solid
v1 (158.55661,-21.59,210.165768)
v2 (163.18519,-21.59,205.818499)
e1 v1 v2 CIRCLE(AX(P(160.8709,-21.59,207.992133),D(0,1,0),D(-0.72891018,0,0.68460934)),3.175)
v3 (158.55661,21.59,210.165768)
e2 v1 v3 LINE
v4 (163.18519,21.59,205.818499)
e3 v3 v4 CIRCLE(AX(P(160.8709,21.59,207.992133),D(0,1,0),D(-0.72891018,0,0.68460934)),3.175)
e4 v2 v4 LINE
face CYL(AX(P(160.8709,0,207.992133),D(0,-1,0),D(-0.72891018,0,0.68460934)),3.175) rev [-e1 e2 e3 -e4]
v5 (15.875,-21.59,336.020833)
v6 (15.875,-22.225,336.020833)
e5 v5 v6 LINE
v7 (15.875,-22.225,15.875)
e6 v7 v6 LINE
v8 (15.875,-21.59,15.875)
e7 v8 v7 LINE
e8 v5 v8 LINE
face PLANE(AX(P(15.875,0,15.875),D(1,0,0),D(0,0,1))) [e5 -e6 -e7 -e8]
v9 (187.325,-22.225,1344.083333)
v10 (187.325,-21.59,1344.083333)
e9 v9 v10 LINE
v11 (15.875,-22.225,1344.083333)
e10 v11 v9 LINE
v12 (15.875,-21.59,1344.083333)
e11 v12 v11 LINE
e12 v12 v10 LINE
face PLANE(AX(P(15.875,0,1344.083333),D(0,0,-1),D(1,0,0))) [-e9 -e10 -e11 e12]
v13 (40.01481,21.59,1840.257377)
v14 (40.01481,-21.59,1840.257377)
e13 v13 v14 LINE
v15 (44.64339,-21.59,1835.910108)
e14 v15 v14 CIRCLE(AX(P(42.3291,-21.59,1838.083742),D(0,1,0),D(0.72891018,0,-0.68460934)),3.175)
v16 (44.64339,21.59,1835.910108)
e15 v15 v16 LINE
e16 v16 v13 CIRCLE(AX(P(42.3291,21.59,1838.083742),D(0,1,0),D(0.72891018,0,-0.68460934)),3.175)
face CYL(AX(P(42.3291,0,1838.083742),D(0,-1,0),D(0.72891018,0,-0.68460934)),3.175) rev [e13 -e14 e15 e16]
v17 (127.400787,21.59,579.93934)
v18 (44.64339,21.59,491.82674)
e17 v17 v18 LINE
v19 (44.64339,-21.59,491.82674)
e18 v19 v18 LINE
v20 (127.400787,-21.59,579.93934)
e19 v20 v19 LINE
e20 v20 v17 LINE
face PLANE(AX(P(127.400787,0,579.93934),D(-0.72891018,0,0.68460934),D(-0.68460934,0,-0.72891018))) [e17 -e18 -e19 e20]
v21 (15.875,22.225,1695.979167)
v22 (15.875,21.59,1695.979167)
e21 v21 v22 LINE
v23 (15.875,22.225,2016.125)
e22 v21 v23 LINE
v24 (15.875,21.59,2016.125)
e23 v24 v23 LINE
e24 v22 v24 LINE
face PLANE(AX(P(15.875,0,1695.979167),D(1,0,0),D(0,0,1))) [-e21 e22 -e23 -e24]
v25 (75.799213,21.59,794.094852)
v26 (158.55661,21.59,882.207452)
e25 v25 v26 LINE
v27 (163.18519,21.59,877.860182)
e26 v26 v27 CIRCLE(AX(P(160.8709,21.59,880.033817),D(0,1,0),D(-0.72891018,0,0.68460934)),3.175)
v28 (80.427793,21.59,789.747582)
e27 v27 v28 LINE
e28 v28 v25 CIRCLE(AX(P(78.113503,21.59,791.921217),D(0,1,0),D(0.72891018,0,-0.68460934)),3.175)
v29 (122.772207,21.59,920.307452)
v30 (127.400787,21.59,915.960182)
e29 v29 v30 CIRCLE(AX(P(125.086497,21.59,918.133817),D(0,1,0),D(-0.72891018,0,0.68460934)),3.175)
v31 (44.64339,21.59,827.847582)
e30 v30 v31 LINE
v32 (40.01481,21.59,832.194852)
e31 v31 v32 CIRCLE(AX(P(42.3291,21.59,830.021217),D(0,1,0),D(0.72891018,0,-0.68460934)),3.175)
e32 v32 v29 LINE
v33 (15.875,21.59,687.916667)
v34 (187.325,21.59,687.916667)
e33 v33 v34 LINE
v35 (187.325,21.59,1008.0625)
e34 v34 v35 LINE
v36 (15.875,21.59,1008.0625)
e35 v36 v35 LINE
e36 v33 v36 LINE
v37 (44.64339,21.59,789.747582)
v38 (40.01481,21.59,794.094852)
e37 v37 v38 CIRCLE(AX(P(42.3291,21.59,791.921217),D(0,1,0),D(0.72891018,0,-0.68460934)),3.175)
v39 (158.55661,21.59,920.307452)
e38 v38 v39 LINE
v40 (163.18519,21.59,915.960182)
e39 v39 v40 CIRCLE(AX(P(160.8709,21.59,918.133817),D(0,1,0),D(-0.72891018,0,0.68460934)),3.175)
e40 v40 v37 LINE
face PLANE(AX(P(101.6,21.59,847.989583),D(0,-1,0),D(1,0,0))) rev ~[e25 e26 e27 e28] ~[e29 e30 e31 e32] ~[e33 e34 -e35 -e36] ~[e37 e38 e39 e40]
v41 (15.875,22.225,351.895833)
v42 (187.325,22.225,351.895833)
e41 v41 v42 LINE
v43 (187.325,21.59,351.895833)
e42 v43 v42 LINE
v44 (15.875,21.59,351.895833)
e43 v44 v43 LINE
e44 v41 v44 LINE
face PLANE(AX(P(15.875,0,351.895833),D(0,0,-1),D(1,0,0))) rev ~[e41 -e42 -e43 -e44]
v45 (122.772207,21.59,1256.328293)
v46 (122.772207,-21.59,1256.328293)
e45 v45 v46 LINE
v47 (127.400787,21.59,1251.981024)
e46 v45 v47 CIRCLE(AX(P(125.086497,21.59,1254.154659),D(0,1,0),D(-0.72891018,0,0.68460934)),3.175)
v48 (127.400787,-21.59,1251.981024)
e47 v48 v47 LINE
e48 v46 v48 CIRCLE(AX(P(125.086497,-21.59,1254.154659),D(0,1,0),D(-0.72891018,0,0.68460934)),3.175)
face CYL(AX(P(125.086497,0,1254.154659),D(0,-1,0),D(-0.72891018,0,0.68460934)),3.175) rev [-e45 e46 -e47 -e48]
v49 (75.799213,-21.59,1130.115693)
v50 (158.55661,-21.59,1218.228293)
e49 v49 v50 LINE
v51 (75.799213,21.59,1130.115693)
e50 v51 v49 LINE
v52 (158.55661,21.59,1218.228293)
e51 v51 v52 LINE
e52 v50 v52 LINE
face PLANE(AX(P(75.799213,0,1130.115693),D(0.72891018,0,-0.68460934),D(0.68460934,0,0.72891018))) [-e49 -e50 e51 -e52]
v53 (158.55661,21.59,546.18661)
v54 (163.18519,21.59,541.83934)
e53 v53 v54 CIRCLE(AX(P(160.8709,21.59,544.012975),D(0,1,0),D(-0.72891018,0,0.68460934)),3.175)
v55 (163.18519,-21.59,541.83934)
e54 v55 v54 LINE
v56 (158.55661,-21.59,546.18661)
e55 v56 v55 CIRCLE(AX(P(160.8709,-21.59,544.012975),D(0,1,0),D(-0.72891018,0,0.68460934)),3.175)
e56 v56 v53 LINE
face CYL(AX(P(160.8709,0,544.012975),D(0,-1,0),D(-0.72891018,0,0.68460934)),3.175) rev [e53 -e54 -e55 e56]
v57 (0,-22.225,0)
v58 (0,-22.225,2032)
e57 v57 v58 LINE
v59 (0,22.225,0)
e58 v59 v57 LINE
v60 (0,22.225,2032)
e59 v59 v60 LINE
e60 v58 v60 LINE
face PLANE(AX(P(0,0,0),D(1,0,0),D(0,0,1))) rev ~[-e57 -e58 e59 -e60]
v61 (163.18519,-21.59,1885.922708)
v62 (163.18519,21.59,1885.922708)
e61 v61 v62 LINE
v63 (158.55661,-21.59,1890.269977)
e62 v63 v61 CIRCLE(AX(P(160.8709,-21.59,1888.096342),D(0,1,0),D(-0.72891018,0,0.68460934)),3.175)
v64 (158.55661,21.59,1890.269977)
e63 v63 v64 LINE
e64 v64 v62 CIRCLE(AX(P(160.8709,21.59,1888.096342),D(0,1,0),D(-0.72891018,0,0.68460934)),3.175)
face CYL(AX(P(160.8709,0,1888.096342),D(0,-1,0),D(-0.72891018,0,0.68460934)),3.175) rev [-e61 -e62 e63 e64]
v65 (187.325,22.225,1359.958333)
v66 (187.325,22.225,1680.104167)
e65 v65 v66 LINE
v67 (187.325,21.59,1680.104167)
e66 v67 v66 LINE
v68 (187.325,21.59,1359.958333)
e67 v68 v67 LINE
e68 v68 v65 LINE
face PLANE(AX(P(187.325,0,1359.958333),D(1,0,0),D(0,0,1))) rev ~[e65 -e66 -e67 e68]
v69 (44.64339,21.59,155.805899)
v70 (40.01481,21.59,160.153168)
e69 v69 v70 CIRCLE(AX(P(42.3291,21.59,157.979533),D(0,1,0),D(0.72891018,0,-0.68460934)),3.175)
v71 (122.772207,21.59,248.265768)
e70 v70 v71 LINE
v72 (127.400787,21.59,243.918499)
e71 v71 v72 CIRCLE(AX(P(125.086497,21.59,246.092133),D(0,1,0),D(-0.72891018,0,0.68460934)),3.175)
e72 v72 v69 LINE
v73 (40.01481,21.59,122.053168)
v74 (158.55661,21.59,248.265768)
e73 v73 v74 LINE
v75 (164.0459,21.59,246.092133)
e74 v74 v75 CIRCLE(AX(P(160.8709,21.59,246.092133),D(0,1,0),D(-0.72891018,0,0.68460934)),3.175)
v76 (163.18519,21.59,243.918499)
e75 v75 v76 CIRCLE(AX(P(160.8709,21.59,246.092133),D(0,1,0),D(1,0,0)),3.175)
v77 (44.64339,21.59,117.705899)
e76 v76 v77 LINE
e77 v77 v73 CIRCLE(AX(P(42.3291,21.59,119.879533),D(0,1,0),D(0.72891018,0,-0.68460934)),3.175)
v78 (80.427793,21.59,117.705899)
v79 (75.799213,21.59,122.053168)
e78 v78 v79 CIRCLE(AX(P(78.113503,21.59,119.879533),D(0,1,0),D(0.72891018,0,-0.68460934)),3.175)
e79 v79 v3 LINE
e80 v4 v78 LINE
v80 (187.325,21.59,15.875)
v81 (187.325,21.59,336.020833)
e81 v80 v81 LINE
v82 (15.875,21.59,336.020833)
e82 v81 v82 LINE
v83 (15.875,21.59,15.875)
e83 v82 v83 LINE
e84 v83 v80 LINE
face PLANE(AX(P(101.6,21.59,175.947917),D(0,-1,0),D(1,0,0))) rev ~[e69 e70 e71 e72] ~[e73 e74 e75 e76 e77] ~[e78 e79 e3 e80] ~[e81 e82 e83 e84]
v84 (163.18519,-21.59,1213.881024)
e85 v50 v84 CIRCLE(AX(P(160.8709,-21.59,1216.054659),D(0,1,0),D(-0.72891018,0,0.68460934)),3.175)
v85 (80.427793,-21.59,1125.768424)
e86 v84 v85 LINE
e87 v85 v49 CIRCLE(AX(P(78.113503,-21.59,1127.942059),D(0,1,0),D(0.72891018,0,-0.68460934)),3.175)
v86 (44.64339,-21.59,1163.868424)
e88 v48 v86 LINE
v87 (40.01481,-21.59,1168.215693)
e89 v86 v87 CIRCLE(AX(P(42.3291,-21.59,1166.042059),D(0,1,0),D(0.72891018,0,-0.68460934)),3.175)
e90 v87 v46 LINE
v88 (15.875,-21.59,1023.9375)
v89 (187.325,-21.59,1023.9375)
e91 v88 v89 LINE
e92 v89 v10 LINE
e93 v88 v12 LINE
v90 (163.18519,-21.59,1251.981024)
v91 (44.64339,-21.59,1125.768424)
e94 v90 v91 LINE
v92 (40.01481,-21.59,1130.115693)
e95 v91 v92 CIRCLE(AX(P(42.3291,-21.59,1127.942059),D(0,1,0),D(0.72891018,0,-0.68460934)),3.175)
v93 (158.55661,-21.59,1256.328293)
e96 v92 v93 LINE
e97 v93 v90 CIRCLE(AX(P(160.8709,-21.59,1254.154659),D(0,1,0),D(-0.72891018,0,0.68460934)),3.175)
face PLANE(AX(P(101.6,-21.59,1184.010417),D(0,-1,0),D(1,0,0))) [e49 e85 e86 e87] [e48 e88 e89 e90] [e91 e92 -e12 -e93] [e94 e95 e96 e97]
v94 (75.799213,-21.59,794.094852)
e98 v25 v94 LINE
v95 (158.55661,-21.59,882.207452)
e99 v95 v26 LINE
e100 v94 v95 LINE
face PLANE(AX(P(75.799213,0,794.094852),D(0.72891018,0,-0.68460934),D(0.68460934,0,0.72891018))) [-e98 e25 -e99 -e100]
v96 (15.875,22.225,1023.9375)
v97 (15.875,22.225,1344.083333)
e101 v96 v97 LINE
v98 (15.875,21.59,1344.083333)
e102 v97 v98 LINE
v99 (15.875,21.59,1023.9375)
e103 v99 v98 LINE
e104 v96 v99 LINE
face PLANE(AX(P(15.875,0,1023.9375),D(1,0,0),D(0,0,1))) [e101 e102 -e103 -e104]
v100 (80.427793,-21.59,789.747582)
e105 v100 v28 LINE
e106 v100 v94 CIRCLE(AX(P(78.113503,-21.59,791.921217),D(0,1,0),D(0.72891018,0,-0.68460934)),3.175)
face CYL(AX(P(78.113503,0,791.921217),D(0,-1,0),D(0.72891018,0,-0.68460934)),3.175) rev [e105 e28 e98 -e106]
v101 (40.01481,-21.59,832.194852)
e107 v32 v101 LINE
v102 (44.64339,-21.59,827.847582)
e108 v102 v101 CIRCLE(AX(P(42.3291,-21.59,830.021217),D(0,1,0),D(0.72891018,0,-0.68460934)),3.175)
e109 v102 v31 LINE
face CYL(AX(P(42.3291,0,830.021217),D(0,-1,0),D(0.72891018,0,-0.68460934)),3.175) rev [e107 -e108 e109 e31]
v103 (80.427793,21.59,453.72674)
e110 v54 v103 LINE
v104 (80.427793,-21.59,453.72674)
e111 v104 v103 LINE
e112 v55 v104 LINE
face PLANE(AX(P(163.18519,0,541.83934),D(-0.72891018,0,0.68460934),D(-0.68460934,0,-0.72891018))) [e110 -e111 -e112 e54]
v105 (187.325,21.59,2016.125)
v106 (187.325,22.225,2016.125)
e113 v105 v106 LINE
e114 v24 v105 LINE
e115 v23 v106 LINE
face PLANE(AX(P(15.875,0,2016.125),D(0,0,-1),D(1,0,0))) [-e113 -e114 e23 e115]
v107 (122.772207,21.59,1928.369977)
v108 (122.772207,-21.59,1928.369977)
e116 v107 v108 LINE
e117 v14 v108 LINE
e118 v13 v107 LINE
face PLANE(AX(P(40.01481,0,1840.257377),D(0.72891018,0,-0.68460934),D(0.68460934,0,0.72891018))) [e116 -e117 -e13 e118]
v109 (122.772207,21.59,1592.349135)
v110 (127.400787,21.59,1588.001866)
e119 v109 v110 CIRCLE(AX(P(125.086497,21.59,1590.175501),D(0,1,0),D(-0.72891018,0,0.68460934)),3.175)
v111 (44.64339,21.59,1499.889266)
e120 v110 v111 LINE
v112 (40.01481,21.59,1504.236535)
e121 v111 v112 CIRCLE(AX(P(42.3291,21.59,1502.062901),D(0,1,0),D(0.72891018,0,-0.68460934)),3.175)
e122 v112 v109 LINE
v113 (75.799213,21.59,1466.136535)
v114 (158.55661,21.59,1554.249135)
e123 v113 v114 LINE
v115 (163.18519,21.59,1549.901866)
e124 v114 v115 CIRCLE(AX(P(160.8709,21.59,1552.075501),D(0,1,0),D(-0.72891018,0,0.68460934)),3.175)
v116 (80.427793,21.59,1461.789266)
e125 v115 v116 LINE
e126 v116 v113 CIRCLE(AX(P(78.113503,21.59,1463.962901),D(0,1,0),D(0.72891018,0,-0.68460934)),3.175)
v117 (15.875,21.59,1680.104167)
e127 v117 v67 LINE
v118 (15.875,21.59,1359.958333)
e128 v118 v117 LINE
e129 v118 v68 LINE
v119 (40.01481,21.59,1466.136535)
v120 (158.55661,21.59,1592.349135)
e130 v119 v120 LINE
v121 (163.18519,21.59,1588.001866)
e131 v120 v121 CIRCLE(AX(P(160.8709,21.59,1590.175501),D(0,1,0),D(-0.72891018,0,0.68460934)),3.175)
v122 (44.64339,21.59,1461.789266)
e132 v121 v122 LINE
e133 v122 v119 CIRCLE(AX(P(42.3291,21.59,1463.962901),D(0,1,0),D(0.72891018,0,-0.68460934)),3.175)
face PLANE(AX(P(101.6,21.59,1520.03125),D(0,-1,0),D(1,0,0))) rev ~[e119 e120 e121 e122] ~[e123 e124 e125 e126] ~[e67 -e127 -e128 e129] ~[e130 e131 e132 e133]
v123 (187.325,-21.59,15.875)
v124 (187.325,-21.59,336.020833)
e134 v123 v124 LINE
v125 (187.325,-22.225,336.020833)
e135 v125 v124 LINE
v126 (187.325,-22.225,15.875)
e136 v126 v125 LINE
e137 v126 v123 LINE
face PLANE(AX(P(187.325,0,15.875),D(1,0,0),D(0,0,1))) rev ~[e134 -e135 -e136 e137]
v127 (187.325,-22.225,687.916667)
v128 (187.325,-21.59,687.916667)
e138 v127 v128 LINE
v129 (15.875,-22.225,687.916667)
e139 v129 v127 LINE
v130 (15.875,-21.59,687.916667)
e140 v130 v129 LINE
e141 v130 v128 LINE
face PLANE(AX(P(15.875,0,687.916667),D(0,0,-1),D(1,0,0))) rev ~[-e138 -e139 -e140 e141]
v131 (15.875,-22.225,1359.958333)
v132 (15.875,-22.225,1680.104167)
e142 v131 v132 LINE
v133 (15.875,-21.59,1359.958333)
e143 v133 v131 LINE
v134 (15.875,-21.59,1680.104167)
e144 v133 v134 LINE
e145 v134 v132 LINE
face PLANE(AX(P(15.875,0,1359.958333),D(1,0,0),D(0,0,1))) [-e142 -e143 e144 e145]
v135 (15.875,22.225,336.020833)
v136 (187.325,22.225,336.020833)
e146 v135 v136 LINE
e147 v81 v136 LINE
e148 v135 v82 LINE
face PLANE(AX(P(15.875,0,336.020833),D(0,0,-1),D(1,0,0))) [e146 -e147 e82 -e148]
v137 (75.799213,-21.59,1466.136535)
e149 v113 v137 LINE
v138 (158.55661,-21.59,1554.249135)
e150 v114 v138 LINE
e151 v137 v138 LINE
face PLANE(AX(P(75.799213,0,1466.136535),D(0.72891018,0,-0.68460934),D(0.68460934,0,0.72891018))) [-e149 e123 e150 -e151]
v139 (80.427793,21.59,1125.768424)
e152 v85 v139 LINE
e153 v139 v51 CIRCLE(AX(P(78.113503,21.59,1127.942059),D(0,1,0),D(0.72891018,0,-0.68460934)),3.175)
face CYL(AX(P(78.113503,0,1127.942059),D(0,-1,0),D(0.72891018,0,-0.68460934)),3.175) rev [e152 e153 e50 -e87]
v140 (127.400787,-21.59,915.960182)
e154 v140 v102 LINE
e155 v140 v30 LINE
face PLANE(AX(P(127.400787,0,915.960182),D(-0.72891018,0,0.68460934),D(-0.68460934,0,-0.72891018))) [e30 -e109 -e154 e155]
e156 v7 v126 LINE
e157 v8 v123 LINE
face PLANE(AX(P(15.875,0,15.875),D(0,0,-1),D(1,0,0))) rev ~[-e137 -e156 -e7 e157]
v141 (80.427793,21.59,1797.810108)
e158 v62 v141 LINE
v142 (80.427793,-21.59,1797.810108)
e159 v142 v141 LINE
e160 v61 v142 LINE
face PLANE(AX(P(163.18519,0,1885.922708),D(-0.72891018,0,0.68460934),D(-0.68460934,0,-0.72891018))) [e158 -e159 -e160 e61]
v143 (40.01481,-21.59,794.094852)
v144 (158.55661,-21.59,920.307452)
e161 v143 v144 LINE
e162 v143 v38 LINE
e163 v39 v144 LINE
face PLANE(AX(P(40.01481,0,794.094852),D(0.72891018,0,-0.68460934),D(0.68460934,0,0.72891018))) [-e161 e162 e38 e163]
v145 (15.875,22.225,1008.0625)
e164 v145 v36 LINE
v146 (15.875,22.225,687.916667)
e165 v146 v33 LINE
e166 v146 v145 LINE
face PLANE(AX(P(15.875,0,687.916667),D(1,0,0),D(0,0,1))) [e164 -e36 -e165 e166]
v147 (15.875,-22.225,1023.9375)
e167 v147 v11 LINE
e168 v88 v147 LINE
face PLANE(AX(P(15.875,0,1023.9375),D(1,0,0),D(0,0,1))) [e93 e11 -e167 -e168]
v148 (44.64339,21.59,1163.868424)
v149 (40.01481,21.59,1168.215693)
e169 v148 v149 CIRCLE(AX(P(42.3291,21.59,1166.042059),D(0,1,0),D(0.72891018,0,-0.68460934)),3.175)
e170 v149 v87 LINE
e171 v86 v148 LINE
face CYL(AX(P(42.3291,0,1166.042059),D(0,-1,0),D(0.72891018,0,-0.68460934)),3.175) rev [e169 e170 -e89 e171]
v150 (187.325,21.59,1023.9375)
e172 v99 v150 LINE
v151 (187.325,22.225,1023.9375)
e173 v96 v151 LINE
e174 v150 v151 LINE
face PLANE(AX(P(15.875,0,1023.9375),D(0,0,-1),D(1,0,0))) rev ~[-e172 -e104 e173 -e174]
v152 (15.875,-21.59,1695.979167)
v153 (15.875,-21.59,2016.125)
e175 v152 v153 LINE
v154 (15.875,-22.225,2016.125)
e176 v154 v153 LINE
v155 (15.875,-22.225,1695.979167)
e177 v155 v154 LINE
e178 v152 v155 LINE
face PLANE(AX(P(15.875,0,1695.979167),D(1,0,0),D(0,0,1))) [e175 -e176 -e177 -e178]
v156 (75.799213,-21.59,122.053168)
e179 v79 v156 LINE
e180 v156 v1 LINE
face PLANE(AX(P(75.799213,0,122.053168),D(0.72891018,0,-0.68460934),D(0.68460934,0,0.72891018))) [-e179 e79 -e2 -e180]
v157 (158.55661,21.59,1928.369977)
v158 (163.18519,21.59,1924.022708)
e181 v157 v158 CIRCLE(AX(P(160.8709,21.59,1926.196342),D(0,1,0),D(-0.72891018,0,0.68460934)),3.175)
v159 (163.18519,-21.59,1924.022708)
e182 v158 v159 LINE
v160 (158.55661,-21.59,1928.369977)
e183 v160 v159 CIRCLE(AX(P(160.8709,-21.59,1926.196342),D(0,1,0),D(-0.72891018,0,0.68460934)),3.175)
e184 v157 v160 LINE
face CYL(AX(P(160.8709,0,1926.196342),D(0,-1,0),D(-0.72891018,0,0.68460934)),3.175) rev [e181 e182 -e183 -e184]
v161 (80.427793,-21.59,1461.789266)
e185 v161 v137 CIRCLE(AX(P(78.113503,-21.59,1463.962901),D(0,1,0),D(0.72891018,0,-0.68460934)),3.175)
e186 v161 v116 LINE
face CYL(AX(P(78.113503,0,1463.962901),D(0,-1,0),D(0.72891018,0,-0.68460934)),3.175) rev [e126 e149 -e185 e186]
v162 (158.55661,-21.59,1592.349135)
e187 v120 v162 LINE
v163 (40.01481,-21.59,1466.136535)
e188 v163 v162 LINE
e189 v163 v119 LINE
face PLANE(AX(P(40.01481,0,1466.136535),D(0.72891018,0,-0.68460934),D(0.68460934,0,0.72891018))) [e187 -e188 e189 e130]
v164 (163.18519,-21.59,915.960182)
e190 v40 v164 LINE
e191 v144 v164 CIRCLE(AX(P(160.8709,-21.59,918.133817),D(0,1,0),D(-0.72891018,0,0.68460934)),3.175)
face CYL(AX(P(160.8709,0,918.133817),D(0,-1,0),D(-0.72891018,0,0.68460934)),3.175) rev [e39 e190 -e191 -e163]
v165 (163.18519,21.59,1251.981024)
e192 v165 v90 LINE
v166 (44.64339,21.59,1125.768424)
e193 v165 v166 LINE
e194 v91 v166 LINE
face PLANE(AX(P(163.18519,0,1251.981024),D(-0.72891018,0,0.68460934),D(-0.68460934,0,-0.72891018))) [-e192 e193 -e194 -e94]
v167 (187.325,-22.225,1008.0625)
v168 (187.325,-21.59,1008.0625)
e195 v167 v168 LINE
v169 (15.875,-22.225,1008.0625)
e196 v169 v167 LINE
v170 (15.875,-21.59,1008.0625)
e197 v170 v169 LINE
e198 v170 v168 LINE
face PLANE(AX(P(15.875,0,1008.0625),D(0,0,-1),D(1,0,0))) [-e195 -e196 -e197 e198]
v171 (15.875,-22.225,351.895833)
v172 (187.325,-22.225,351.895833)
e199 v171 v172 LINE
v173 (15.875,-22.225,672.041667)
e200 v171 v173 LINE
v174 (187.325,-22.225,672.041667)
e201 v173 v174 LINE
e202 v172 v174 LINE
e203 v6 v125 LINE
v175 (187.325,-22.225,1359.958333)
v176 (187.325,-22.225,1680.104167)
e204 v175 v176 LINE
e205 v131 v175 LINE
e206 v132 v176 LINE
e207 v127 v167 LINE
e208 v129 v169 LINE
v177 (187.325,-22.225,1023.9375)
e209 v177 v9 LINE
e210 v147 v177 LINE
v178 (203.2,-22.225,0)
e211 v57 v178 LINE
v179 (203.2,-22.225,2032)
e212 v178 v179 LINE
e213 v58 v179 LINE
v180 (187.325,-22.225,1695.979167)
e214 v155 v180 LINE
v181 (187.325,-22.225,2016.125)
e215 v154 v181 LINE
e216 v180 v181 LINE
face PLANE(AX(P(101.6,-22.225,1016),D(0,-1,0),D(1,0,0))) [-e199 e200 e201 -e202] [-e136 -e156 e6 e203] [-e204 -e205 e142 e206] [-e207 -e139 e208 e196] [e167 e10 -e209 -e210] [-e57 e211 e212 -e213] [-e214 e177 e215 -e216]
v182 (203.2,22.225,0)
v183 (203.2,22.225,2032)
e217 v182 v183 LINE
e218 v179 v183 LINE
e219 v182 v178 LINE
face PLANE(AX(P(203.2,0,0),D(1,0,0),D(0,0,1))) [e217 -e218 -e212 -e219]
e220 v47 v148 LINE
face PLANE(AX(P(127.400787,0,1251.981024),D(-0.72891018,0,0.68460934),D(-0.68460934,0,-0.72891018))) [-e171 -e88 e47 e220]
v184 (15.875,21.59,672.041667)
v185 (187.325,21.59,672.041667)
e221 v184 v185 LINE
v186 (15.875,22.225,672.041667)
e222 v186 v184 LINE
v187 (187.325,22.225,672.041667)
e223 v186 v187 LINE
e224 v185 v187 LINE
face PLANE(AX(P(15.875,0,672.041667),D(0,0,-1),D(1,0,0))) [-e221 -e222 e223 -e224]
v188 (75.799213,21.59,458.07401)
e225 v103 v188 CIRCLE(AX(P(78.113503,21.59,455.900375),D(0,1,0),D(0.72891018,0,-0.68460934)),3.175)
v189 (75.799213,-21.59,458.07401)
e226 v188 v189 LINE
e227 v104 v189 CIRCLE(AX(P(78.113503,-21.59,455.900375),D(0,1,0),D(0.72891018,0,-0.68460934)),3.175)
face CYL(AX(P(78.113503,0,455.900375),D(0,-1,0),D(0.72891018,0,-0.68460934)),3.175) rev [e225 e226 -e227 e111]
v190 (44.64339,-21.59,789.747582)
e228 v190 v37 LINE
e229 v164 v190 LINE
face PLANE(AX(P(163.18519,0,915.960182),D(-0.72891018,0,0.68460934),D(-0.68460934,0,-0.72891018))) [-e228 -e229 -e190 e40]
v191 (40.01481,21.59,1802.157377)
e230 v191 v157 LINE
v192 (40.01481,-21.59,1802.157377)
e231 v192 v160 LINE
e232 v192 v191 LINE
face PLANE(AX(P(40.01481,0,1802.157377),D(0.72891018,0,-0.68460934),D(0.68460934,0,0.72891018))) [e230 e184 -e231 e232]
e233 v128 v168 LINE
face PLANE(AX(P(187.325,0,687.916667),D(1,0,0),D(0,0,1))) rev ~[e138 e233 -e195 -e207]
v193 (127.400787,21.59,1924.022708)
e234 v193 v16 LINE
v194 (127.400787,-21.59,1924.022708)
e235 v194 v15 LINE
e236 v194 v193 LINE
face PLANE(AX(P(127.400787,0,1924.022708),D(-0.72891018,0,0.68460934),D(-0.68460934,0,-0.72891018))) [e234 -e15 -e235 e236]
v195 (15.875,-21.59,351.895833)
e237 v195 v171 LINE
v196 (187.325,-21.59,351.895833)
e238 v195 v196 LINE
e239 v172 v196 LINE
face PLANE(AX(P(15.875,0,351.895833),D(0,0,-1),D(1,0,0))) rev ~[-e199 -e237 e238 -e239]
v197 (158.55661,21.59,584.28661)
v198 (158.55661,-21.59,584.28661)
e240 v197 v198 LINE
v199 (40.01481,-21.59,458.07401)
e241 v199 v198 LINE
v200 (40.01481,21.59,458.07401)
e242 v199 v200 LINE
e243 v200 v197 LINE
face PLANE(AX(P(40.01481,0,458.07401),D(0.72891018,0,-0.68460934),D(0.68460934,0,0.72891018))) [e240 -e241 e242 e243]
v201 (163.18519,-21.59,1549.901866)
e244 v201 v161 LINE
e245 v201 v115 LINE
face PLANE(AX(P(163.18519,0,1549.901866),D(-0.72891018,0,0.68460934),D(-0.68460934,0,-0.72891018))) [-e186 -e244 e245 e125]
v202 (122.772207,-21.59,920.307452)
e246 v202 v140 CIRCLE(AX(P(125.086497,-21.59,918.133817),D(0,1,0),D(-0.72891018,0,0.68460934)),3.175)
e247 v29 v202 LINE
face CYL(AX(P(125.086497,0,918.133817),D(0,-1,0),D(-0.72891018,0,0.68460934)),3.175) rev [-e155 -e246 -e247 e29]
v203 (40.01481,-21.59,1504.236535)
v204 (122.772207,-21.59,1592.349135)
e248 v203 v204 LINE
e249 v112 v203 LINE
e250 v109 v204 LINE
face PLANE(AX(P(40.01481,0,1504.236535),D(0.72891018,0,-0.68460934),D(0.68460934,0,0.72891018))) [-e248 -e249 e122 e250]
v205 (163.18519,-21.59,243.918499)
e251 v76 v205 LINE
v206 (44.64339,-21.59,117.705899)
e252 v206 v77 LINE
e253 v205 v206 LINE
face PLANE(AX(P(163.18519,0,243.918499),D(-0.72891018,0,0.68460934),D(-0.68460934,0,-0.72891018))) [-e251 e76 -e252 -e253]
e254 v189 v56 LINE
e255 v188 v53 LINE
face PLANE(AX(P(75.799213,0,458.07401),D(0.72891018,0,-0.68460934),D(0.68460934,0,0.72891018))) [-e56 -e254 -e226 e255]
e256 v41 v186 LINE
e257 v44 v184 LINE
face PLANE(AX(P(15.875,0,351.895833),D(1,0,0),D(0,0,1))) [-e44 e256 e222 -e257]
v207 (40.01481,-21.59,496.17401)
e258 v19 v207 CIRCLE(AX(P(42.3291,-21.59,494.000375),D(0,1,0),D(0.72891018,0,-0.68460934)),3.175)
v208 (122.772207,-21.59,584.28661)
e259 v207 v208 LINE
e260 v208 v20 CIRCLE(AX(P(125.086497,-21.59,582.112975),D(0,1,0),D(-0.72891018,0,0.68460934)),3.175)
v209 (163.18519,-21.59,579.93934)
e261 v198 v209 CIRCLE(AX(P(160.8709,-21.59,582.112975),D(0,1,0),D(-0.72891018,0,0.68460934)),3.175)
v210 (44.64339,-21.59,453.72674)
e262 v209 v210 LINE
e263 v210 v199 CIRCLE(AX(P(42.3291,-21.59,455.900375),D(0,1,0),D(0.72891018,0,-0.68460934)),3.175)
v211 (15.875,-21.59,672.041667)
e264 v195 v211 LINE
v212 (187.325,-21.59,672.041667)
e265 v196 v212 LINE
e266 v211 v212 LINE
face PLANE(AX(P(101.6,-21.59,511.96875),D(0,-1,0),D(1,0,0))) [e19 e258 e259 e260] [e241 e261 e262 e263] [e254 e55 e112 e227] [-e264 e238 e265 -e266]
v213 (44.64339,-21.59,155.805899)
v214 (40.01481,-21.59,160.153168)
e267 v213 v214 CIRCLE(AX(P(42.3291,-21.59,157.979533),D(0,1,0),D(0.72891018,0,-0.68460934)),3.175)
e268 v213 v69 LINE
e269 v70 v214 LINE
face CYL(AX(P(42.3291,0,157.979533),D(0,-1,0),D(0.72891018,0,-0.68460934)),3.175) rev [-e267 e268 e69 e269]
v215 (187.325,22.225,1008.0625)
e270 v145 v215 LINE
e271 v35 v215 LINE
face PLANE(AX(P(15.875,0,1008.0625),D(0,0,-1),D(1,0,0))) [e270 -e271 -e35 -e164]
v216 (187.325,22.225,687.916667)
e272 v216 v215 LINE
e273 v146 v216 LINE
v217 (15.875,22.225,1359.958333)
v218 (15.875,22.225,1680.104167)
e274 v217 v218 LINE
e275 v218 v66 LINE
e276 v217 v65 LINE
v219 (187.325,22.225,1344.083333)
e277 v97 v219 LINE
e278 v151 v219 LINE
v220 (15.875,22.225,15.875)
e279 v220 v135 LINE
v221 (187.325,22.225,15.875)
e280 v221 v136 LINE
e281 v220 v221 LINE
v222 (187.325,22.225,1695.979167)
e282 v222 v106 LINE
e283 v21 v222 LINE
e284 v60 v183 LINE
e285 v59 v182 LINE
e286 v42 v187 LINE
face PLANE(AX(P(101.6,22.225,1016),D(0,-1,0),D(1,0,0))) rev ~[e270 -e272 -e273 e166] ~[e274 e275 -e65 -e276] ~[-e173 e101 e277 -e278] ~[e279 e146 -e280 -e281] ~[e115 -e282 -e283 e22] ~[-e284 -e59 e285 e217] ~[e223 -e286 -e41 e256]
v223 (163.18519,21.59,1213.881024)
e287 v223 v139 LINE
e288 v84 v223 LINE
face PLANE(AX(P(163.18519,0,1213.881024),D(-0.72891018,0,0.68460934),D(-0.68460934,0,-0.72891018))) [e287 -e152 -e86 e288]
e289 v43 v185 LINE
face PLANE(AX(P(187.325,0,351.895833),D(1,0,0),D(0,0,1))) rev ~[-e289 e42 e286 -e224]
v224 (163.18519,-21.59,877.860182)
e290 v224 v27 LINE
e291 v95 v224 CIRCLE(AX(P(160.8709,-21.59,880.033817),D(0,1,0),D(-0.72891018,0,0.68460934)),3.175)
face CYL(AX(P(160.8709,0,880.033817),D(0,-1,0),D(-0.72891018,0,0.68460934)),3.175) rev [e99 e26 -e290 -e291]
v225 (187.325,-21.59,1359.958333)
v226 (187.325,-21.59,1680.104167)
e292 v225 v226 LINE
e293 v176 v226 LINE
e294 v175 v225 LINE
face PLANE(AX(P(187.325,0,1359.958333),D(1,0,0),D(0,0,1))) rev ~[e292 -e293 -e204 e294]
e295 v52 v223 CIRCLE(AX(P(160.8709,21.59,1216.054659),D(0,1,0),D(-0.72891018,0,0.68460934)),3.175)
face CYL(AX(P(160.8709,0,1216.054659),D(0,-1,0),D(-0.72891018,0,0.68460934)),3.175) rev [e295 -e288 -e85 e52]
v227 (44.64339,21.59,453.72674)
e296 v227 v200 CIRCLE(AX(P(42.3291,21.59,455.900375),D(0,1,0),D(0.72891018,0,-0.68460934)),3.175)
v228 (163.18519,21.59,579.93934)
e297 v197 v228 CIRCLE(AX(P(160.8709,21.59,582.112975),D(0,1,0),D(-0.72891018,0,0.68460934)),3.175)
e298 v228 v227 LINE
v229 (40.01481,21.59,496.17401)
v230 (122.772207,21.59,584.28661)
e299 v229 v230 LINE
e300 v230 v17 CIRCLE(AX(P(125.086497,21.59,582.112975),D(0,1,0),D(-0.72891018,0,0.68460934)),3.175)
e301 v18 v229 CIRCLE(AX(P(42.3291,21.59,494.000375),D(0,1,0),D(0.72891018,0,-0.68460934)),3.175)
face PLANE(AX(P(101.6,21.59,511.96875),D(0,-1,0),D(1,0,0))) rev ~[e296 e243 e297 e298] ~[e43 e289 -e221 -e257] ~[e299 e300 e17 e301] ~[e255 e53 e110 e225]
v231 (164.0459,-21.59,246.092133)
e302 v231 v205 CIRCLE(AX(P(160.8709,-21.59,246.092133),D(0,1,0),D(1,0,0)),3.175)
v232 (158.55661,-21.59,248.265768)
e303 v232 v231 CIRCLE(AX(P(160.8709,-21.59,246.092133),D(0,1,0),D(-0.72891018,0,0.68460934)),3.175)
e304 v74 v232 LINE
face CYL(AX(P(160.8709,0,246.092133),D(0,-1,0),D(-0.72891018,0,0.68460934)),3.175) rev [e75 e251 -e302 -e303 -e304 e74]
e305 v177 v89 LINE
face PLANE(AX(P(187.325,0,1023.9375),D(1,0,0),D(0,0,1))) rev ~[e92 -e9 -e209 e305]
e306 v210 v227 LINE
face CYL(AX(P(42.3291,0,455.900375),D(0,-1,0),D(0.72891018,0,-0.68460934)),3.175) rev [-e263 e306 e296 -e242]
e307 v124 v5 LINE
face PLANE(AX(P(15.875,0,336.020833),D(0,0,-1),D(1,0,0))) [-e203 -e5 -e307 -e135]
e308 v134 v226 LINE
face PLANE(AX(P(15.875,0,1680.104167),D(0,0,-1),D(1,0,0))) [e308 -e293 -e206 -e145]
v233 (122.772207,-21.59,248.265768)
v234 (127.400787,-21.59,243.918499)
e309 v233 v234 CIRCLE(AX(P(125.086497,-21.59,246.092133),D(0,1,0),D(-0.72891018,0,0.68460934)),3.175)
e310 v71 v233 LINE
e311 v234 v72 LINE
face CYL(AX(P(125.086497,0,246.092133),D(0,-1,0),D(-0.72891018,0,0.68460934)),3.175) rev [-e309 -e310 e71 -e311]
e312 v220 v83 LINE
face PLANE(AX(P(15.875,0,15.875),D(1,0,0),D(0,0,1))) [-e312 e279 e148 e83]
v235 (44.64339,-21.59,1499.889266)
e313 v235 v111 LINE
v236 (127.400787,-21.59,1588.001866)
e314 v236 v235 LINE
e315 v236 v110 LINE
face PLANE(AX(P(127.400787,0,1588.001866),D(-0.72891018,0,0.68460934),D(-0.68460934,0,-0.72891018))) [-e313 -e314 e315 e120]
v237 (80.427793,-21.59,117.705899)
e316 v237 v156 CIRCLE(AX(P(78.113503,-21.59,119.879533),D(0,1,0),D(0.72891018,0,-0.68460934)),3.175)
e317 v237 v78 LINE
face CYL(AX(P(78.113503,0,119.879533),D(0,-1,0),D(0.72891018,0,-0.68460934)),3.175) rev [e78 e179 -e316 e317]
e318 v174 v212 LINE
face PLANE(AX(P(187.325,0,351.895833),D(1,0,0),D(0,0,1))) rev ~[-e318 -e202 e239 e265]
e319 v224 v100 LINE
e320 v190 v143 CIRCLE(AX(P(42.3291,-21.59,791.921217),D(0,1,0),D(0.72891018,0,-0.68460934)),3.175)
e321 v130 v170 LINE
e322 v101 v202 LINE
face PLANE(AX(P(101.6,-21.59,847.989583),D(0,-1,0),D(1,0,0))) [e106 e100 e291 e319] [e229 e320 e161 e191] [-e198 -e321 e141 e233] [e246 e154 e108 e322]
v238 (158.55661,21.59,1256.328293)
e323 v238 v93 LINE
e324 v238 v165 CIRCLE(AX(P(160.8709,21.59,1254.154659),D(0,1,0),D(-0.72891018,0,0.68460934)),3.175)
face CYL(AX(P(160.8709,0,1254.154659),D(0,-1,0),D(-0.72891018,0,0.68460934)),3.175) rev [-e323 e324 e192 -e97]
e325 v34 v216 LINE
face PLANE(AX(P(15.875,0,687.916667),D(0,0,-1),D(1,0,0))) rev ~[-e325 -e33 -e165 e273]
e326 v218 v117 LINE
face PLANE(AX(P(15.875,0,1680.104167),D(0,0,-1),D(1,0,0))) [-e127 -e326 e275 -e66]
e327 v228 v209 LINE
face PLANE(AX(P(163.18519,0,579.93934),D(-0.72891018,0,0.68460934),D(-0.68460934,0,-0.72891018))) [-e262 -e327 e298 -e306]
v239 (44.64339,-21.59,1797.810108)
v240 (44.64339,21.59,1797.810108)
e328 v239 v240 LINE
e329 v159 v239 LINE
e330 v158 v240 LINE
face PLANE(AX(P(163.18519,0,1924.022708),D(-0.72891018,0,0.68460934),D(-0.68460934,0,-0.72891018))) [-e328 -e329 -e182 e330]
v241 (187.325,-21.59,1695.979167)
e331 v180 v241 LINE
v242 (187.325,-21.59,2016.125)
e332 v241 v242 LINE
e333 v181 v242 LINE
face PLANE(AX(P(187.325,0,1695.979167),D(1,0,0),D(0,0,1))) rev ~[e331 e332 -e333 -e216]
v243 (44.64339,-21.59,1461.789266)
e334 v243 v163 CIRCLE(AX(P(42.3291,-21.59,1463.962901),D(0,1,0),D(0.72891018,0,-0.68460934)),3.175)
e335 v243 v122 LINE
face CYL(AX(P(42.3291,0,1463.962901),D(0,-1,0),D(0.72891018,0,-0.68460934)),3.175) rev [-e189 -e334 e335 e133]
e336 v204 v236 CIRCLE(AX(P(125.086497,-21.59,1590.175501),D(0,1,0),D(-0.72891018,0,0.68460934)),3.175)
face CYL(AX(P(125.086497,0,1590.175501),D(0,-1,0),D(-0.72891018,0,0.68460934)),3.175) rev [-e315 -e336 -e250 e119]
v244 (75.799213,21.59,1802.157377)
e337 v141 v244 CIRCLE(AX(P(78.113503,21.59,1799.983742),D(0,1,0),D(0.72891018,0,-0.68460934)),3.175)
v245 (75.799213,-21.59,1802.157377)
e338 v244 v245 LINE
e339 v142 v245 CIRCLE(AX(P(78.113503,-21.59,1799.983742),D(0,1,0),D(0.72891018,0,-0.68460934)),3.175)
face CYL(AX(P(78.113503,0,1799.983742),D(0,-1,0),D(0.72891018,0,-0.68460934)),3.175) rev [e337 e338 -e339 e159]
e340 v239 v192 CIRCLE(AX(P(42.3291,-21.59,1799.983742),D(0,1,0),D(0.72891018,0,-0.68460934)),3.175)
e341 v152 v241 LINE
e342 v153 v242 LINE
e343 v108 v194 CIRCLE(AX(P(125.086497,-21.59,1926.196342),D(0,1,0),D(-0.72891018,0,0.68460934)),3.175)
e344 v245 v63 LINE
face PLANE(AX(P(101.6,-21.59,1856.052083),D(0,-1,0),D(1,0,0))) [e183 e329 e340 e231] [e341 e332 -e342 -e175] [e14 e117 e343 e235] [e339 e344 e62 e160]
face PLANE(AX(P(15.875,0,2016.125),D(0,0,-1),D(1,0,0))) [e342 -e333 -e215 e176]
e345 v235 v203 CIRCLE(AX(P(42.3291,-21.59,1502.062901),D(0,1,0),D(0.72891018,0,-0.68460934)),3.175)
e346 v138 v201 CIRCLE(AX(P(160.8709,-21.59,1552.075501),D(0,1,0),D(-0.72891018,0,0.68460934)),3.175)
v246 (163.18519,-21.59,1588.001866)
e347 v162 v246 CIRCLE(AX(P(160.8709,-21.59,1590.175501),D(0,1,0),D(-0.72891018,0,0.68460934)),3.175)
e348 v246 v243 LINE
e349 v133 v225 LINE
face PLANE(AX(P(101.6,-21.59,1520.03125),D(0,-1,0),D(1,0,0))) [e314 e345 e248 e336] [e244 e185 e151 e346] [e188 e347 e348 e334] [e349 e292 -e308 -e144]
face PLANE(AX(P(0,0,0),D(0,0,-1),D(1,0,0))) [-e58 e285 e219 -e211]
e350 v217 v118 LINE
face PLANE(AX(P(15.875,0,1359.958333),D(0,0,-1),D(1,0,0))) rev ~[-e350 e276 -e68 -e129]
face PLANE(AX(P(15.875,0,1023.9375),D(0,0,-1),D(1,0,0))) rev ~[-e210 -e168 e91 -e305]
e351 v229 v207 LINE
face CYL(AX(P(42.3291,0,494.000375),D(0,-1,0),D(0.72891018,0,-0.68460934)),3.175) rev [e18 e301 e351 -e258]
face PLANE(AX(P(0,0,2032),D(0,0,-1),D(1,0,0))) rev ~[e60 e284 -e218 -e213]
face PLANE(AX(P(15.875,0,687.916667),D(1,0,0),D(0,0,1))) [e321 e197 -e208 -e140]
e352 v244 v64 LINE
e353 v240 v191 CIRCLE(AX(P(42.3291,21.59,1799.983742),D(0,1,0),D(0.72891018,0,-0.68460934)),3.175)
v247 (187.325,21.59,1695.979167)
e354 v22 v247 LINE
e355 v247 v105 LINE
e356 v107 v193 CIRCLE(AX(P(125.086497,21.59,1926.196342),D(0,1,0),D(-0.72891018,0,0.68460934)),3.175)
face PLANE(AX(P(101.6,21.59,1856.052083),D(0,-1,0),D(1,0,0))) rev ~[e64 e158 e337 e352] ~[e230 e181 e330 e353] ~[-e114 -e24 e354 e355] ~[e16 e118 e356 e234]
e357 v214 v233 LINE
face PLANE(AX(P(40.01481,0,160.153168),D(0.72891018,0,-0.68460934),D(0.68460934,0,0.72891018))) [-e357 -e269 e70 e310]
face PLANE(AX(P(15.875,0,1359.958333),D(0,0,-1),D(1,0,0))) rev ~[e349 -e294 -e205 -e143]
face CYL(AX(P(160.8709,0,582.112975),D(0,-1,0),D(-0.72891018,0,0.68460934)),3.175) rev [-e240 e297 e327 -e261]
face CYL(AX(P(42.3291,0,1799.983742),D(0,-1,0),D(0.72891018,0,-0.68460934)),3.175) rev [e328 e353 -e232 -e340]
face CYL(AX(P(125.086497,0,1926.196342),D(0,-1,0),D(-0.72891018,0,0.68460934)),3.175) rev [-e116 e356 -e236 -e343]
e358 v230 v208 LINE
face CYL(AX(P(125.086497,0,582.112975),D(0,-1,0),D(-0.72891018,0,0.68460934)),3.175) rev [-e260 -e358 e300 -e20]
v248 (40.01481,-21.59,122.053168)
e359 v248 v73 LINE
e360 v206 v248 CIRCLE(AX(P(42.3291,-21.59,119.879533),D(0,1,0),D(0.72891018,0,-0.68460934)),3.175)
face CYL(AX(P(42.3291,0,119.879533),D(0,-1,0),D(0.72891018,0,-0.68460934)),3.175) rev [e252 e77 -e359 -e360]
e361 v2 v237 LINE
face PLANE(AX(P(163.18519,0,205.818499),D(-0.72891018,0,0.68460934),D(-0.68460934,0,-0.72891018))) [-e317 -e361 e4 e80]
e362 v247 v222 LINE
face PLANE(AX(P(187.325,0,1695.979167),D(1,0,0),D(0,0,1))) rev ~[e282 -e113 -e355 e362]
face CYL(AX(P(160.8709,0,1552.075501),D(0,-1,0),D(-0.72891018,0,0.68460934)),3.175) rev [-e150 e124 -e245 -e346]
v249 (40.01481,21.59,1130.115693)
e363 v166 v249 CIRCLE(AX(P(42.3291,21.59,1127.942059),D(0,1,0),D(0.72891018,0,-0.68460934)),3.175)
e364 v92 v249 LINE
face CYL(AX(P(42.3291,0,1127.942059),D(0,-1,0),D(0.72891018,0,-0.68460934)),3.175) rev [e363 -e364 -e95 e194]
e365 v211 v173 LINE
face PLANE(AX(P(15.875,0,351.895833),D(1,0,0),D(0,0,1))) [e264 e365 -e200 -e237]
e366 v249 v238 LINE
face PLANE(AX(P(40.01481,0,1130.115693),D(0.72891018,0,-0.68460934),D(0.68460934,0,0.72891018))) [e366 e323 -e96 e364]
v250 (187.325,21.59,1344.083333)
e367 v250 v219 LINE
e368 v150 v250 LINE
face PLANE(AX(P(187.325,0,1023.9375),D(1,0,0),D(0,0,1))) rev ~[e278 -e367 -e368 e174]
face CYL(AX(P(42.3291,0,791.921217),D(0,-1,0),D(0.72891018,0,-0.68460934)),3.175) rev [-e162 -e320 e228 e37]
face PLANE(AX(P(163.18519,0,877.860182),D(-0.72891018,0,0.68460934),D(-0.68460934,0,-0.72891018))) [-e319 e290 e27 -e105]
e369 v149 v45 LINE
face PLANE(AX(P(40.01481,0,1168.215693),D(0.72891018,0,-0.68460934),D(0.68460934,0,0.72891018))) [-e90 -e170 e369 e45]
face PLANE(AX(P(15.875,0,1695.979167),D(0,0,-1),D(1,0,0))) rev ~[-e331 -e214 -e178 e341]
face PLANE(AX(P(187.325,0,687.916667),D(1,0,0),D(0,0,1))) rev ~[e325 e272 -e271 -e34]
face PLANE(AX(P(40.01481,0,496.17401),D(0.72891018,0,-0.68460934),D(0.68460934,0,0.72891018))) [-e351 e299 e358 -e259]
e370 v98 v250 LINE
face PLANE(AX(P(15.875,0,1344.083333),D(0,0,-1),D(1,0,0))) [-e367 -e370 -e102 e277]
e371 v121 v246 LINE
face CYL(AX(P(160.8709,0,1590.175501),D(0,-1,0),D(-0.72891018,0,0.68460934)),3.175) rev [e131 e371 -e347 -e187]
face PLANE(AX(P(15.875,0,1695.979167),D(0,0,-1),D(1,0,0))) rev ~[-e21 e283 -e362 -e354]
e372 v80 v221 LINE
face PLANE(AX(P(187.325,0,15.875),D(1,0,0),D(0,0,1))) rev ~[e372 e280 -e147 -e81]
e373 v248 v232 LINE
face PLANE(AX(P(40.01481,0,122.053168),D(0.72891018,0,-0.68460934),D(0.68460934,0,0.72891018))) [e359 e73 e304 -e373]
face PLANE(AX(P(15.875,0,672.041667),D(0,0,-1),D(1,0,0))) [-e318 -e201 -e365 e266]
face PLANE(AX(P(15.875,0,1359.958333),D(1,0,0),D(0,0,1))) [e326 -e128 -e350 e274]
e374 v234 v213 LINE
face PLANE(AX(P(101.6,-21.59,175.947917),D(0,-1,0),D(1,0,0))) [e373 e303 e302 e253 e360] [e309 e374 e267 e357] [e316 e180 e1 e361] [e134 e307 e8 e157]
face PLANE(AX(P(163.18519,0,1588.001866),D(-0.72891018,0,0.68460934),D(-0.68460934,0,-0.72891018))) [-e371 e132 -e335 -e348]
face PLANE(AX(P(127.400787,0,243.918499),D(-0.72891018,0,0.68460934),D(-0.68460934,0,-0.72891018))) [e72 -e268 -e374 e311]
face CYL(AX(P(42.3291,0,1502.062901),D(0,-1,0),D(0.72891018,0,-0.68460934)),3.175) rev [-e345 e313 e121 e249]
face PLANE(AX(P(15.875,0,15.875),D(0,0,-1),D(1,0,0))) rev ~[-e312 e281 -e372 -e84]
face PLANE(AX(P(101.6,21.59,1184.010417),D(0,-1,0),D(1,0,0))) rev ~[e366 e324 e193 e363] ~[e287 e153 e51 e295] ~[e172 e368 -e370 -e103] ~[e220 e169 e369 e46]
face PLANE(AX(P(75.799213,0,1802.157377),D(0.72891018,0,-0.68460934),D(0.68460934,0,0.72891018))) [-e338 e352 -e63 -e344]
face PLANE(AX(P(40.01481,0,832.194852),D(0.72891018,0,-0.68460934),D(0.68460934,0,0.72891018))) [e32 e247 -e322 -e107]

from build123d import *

# Parameters (mm, degrees)
F0_W          = 203.2
F0_H          = 2032
F0_W_2        = 171.45
F0_H_2        = 320.1458333333
F1_DEPTH      = 22.225
F1_DEPTH_BACK = 22.225
F2_W          = 171.45
F2_H          = 320.1458333333
F3_DEPTH      = 21.59
F3_DEPTH_BACK = 21.59


with BuildPart() as f1:
    # F0 (on Front) → F1 (new body, two sides)
    with BuildSketch(Plane.XZ) as f1_sk:
        with Locations((101.6, 1016)):
            Rectangle(F0_W, F0_H)
        with Locations((101.6, 175.9479166667)):
            Rectangle(F0_W_2, F0_H_2, mode=Mode.SUBTRACT)
        with Locations((101.6, 511.96875)):
            Rectangle(F0_W_2, F0_H_2, mode=Mode.SUBTRACT)
        with Locations((101.6, 847.9895833333)):
            Rectangle(F0_W_2, F0_H_2, mode=Mode.SUBTRACT)
        with Locations((101.6, 1184.0104166667)):
            Rectangle(F0_W_2, F0_H_2, mode=Mode.SUBTRACT)
        with Locations((101.6, 1520.03125)):
            Rectangle(F0_W_2, F0_H_2, mode=Mode.SUBTRACT)
        with Locations((101.6, 1856.0520833333)):
            Rectangle(F0_W_2, F0_H_2, mode=Mode.SUBTRACT)
    extrude(amount=F1_DEPTH)
    extrude(f1_sk.sketch, amount=-F1_DEPTH_BACK)

    # F2 (on Front) → F3 (join, two sides)
    with BuildSketch(Plane.XZ) as f3_sk:
        with Locations((101.6, 1520.03125)):
            Rectangle(F2_W, F2_H)
        with BuildLine():
            Line((40.0148101771, 1504.2365351889), (122.7722068767, 1592.3491351889))
            ThreePointArc((122.7722068767, 1592.3491351889), (127.2601313551, 1592.4897903562), (127.4007865224, 1588.0018658778))
            Line((127.4007865224, 1588.0018658778), (44.6433898229, 1499.8892658778))
            ThreePointArc((44.6433898229, 1499.8892658778), (40.1554653445, 1499.7486107105), (40.0148101771, 1504.2365351889))
        make_face(mode=Mode.SUBTRACT)
        with BuildLine():
            ThreePointArc((158.5566101771, 1592.3491351889), (163.0445346555, 1592.4897903562), (163.1851898229, 1588.0018658778))
            Line((163.1851898229, 1588.0018658778), (44.6433898229, 1461.7892658778))
            ThreePointArc((44.6433898229, 1461.7892658778), (40.1554653445, 1461.6486107105), (40.0148101771, 1466.1365351889))
            Line((40.0148101771, 1466.1365351889), (158.5566101771, 1592.3491351889))
        make_face(mode=Mode.SUBTRACT)
        with BuildLine():
            Line((75.7992134776, 1466.1365351889), (158.5566101771, 1554.2491351889))
            ThreePointArc((158.5566101771, 1554.2491351889), (163.0445346555, 1554.3897903562), (163.1851898229, 1549.9018658778))
            Line((163.1851898229, 1549.9018658778), (80.4277931233, 1461.7892658778))
            ThreePointArc((80.4277931233, 1461.7892658778), (75.9398686449, 1461.6486107105), (75.7992134776, 1466.1365351889))
        make_face(mode=Mode.SUBTRACT)
        with Locations((101.6, 1184.0104166667)):
            Rectangle(F2_W, F2_H)
        with BuildLine():
            Line((40.0148101771, 1168.2156933889), (122.7722068767, 1256.3282933889))
            ThreePointArc((122.7722068767, 1256.3282933889), (127.2601313551, 1256.4689485562), (127.4007865224, 1251.9810240778))
            Line((127.4007865224, 1251.9810240778), (44.6433898229, 1163.8684240778))
            ThreePointArc((44.6433898229, 1163.8684240778), (40.1554653445, 1163.7277689105), (40.0148101771, 1168.2156933889))
        make_face(mode=Mode.SUBTRACT)
        with BuildLine():
            ThreePointArc((158.5566101771, 1256.3282933889), (163.0445346555, 1256.4689485562), (163.1851898229, 1251.9810240778))
            Line((163.1851898229, 1251.9810240778), (44.6433898229, 1125.7684240778))
            ThreePointArc((44.6433898229, 1125.7684240778), (40.1554653445, 1125.6277689105), (40.0148101771, 1130.1156933889))
            Line((40.0148101771, 1130.1156933889), (158.5566101771, 1256.3282933889))
        make_face(mode=Mode.SUBTRACT)
        with BuildLine():
            Line((75.7992134776, 1130.1156933889), (158.5566101771, 1218.2282933889))
            ThreePointArc((158.5566101771, 1218.2282933889), (163.0445346555, 1218.3689485562), (163.1851898229, 1213.8810240778))
            Line((163.1851898229, 1213.8810240778), (80.4277931233, 1125.7684240778))
            ThreePointArc((80.4277931233, 1125.7684240778), (75.9398686449, 1125.6277689105), (75.7992134776, 1130.1156933889))
        make_face(mode=Mode.SUBTRACT)
        with Locations((101.6, 847.9895833333)):
            Rectangle(F2_W, F2_H)
        with BuildLine():
            Line((40.0148101771, 832.1948515889), (122.7722068767, 920.3074515889))
            ThreePointArc((122.7722068767, 920.3074515889), (127.2601313551, 920.4481067562), (127.4007865224, 915.9601822778))
            Line((127.4007865224, 915.9601822778), (44.6433898229, 827.8475822778))
            ThreePointArc((44.6433898229, 827.8475822778), (40.1554653445, 827.7069271105), (40.0148101771, 832.1948515889))
        make_face(mode=Mode.SUBTRACT)
        with BuildLine():
            ThreePointArc((158.5566101771, 920.3074515889), (163.0445346555, 920.4481067562), (163.1851898229, 915.9601822778))
            Line((163.1851898229, 915.9601822778), (44.6433898229, 789.7475822778))
            ThreePointArc((44.6433898229, 789.7475822778), (40.1554653445, 789.6069271105), (40.0148101771, 794.0948515889))
            Line((40.0148101771, 794.0948515889), (158.5566101771, 920.3074515889))
        make_face(mode=Mode.SUBTRACT)
        with BuildLine():
            Line((75.7992134776, 794.0948515889), (158.5566101771, 882.2074515889))
            ThreePointArc((158.5566101771, 882.2074515889), (163.0445346555, 882.3481067562), (163.1851898229, 877.8601822778))
            Line((163.1851898229, 877.8601822778), (80.4277931233, 789.7475822778))
            ThreePointArc((80.4277931233, 789.7475822778), (75.9398686449, 789.6069271105), (75.7992134776, 794.0948515889))
        make_face(mode=Mode.SUBTRACT)
        with Locations((101.6, 511.96875)):
            Rectangle(F2_W, F2_H)
        with BuildLine():
            Line((40.0148101771, 496.1740097889), (122.7722068767, 584.2866097889))
            ThreePointArc((122.7722068767, 584.2866097889), (127.2601313551, 584.4272649562), (127.4007865224, 579.9393404778))
            Line((127.4007865224, 579.9393404778), (44.6433898229, 491.8267404778))
            ThreePointArc((44.6433898229, 491.8267404778), (40.1554653445, 491.6860853105), (40.0148101771, 496.1740097889))
        make_face(mode=Mode.SUBTRACT)
        with BuildLine():
            ThreePointArc((158.5566101771, 584.2866097889), (163.0445346555, 584.4272649562), (163.1851898229, 579.9393404778))
            Line((163.1851898229, 579.9393404778), (44.6433898229, 453.7267404778))
            ThreePointArc((44.6433898229, 453.7267404778), (40.1554653445, 453.5860853105), (40.0148101771, 458.0740097889))
            Line((40.0148101771, 458.0740097889), (158.5566101771, 584.2866097889))
        make_face(mode=Mode.SUBTRACT)
        with BuildLine():
            Line((75.7992134776, 458.0740097889), (158.5566101771, 546.1866097889))
            ThreePointArc((158.5566101771, 546.1866097889), (163.0445346555, 546.3272649562), (163.1851898229, 541.8393404778))
            Line((163.1851898229, 541.8393404778), (80.4277931233, 453.7267404778))
            ThreePointArc((80.4277931233, 453.7267404778), (75.9398686449, 453.5860853105), (75.7992134776, 458.0740097889))
        make_face(mode=Mode.SUBTRACT)
        Polygon((187.325, 336.0208333333), (15.875, 336.0208333333), (15.875, 15.875), (187.325, 15.875), (187.325, 246.0921333333), align=None)
        with BuildLine():
            Line((40.0148101771, 160.1531679889), (122.7722068767, 248.2657679889))
            ThreePointArc((122.7722068767, 248.2657679889), (127.2601313551, 248.4064231562), (127.4007865224, 243.9184986778))
            Line((127.4007865224, 243.9184986778), (44.6433898229, 155.8058986778))
            ThreePointArc((44.6433898229, 155.8058986778), (40.1554653445, 155.6652435105), (40.0148101771, 160.1531679889))
        make_face(mode=Mode.SUBTRACT)
        with BuildLine():
            ThreePointArc((158.5566101771, 248.2657679889), (162.0398214714, 249.0441237794), (164.0459, 246.0921333333))
            ThreePointArc((164.0459, 246.0921333333), (163.8228904461, 244.923211862), (163.1851898229, 243.9184986778))
            Line((163.1851898229, 243.9184986778), (44.6433898229, 117.7058986778))
            ThreePointArc((44.6433898229, 117.7058986778), (40.1554653445, 117.5652435105), (40.0148101771, 122.0531679889))
            Line((40.0148101771, 122.0531679889), (158.5566101771, 248.2657679889))
        make_face(mode=Mode.SUBTRACT)
        with BuildLine():
            Line((75.7992134776, 122.0531679889), (158.5566101771, 210.1657679889))
            ThreePointArc((158.5566101771, 210.1657679889), (163.0445346555, 210.3064231562), (163.1851898229, 205.8184986778))
            Line((163.1851898229, 205.8184986778), (80.4277931233, 117.7058986778))
            ThreePointArc((80.4277931233, 117.7058986778), (75.9398686449, 117.5652435105), (75.7992134776, 122.0531679889))
        make_face(mode=Mode.SUBTRACT)
        with Locations((101.6, 1856.0520833333)):
            Rectangle(F2_W, F2_H)
        with BuildLine():
            Line((40.0148101771, 1840.2573769889), (122.7722068767, 1928.3699769889))
            ThreePointArc((122.7722068767, 1928.3699769889), (127.2601313551, 1928.5106321562), (127.4007865224, 1924.0227076778))
            Line((127.4007865224, 1924.0227076778), (44.6433898229, 1835.9101076778))
            ThreePointArc((44.6433898229, 1835.9101076778), (40.1554653445, 1835.7694525105), (40.0148101771, 1840.2573769889))
        make_face(mode=Mode.SUBTRACT)
        with BuildLine():
            ThreePointArc((158.5566101771, 1928.3699769889), (163.0445346555, 1928.5106321562), (163.1851898229, 1924.0227076778))
            Line((163.1851898229, 1924.0227076778), (44.6433898229, 1797.8101076778))
            ThreePointArc((44.6433898229, 1797.8101076778), (40.1554653445, 1797.6694525105), (40.0148101771, 1802.1573769889))
            Line((40.0148101771, 1802.1573769889), (158.5566101771, 1928.3699769889))
        make_face(mode=Mode.SUBTRACT)
        with BuildLine():
            Line((75.7992134776, 1802.1573769889), (158.5566101771, 1890.2699769889))
            ThreePointArc((158.5566101771, 1890.2699769889), (163.0445346555, 1890.4106321562), (163.1851898229, 1885.9227076778))
            Line((163.1851898229, 1885.9227076778), (80.4277931233, 1797.8101076778))
            ThreePointArc((80.4277931233, 1797.8101076778), (75.9398686449, 1797.6694525105), (75.7992134776, 1802.1573769889))
        make_face(mode=Mode.SUBTRACT)
    extrude(amount=F3_DEPTH)
    extrude(f3_sk.sketch, amount=-F3_DEPTH_BACK)


solid = f1.part
